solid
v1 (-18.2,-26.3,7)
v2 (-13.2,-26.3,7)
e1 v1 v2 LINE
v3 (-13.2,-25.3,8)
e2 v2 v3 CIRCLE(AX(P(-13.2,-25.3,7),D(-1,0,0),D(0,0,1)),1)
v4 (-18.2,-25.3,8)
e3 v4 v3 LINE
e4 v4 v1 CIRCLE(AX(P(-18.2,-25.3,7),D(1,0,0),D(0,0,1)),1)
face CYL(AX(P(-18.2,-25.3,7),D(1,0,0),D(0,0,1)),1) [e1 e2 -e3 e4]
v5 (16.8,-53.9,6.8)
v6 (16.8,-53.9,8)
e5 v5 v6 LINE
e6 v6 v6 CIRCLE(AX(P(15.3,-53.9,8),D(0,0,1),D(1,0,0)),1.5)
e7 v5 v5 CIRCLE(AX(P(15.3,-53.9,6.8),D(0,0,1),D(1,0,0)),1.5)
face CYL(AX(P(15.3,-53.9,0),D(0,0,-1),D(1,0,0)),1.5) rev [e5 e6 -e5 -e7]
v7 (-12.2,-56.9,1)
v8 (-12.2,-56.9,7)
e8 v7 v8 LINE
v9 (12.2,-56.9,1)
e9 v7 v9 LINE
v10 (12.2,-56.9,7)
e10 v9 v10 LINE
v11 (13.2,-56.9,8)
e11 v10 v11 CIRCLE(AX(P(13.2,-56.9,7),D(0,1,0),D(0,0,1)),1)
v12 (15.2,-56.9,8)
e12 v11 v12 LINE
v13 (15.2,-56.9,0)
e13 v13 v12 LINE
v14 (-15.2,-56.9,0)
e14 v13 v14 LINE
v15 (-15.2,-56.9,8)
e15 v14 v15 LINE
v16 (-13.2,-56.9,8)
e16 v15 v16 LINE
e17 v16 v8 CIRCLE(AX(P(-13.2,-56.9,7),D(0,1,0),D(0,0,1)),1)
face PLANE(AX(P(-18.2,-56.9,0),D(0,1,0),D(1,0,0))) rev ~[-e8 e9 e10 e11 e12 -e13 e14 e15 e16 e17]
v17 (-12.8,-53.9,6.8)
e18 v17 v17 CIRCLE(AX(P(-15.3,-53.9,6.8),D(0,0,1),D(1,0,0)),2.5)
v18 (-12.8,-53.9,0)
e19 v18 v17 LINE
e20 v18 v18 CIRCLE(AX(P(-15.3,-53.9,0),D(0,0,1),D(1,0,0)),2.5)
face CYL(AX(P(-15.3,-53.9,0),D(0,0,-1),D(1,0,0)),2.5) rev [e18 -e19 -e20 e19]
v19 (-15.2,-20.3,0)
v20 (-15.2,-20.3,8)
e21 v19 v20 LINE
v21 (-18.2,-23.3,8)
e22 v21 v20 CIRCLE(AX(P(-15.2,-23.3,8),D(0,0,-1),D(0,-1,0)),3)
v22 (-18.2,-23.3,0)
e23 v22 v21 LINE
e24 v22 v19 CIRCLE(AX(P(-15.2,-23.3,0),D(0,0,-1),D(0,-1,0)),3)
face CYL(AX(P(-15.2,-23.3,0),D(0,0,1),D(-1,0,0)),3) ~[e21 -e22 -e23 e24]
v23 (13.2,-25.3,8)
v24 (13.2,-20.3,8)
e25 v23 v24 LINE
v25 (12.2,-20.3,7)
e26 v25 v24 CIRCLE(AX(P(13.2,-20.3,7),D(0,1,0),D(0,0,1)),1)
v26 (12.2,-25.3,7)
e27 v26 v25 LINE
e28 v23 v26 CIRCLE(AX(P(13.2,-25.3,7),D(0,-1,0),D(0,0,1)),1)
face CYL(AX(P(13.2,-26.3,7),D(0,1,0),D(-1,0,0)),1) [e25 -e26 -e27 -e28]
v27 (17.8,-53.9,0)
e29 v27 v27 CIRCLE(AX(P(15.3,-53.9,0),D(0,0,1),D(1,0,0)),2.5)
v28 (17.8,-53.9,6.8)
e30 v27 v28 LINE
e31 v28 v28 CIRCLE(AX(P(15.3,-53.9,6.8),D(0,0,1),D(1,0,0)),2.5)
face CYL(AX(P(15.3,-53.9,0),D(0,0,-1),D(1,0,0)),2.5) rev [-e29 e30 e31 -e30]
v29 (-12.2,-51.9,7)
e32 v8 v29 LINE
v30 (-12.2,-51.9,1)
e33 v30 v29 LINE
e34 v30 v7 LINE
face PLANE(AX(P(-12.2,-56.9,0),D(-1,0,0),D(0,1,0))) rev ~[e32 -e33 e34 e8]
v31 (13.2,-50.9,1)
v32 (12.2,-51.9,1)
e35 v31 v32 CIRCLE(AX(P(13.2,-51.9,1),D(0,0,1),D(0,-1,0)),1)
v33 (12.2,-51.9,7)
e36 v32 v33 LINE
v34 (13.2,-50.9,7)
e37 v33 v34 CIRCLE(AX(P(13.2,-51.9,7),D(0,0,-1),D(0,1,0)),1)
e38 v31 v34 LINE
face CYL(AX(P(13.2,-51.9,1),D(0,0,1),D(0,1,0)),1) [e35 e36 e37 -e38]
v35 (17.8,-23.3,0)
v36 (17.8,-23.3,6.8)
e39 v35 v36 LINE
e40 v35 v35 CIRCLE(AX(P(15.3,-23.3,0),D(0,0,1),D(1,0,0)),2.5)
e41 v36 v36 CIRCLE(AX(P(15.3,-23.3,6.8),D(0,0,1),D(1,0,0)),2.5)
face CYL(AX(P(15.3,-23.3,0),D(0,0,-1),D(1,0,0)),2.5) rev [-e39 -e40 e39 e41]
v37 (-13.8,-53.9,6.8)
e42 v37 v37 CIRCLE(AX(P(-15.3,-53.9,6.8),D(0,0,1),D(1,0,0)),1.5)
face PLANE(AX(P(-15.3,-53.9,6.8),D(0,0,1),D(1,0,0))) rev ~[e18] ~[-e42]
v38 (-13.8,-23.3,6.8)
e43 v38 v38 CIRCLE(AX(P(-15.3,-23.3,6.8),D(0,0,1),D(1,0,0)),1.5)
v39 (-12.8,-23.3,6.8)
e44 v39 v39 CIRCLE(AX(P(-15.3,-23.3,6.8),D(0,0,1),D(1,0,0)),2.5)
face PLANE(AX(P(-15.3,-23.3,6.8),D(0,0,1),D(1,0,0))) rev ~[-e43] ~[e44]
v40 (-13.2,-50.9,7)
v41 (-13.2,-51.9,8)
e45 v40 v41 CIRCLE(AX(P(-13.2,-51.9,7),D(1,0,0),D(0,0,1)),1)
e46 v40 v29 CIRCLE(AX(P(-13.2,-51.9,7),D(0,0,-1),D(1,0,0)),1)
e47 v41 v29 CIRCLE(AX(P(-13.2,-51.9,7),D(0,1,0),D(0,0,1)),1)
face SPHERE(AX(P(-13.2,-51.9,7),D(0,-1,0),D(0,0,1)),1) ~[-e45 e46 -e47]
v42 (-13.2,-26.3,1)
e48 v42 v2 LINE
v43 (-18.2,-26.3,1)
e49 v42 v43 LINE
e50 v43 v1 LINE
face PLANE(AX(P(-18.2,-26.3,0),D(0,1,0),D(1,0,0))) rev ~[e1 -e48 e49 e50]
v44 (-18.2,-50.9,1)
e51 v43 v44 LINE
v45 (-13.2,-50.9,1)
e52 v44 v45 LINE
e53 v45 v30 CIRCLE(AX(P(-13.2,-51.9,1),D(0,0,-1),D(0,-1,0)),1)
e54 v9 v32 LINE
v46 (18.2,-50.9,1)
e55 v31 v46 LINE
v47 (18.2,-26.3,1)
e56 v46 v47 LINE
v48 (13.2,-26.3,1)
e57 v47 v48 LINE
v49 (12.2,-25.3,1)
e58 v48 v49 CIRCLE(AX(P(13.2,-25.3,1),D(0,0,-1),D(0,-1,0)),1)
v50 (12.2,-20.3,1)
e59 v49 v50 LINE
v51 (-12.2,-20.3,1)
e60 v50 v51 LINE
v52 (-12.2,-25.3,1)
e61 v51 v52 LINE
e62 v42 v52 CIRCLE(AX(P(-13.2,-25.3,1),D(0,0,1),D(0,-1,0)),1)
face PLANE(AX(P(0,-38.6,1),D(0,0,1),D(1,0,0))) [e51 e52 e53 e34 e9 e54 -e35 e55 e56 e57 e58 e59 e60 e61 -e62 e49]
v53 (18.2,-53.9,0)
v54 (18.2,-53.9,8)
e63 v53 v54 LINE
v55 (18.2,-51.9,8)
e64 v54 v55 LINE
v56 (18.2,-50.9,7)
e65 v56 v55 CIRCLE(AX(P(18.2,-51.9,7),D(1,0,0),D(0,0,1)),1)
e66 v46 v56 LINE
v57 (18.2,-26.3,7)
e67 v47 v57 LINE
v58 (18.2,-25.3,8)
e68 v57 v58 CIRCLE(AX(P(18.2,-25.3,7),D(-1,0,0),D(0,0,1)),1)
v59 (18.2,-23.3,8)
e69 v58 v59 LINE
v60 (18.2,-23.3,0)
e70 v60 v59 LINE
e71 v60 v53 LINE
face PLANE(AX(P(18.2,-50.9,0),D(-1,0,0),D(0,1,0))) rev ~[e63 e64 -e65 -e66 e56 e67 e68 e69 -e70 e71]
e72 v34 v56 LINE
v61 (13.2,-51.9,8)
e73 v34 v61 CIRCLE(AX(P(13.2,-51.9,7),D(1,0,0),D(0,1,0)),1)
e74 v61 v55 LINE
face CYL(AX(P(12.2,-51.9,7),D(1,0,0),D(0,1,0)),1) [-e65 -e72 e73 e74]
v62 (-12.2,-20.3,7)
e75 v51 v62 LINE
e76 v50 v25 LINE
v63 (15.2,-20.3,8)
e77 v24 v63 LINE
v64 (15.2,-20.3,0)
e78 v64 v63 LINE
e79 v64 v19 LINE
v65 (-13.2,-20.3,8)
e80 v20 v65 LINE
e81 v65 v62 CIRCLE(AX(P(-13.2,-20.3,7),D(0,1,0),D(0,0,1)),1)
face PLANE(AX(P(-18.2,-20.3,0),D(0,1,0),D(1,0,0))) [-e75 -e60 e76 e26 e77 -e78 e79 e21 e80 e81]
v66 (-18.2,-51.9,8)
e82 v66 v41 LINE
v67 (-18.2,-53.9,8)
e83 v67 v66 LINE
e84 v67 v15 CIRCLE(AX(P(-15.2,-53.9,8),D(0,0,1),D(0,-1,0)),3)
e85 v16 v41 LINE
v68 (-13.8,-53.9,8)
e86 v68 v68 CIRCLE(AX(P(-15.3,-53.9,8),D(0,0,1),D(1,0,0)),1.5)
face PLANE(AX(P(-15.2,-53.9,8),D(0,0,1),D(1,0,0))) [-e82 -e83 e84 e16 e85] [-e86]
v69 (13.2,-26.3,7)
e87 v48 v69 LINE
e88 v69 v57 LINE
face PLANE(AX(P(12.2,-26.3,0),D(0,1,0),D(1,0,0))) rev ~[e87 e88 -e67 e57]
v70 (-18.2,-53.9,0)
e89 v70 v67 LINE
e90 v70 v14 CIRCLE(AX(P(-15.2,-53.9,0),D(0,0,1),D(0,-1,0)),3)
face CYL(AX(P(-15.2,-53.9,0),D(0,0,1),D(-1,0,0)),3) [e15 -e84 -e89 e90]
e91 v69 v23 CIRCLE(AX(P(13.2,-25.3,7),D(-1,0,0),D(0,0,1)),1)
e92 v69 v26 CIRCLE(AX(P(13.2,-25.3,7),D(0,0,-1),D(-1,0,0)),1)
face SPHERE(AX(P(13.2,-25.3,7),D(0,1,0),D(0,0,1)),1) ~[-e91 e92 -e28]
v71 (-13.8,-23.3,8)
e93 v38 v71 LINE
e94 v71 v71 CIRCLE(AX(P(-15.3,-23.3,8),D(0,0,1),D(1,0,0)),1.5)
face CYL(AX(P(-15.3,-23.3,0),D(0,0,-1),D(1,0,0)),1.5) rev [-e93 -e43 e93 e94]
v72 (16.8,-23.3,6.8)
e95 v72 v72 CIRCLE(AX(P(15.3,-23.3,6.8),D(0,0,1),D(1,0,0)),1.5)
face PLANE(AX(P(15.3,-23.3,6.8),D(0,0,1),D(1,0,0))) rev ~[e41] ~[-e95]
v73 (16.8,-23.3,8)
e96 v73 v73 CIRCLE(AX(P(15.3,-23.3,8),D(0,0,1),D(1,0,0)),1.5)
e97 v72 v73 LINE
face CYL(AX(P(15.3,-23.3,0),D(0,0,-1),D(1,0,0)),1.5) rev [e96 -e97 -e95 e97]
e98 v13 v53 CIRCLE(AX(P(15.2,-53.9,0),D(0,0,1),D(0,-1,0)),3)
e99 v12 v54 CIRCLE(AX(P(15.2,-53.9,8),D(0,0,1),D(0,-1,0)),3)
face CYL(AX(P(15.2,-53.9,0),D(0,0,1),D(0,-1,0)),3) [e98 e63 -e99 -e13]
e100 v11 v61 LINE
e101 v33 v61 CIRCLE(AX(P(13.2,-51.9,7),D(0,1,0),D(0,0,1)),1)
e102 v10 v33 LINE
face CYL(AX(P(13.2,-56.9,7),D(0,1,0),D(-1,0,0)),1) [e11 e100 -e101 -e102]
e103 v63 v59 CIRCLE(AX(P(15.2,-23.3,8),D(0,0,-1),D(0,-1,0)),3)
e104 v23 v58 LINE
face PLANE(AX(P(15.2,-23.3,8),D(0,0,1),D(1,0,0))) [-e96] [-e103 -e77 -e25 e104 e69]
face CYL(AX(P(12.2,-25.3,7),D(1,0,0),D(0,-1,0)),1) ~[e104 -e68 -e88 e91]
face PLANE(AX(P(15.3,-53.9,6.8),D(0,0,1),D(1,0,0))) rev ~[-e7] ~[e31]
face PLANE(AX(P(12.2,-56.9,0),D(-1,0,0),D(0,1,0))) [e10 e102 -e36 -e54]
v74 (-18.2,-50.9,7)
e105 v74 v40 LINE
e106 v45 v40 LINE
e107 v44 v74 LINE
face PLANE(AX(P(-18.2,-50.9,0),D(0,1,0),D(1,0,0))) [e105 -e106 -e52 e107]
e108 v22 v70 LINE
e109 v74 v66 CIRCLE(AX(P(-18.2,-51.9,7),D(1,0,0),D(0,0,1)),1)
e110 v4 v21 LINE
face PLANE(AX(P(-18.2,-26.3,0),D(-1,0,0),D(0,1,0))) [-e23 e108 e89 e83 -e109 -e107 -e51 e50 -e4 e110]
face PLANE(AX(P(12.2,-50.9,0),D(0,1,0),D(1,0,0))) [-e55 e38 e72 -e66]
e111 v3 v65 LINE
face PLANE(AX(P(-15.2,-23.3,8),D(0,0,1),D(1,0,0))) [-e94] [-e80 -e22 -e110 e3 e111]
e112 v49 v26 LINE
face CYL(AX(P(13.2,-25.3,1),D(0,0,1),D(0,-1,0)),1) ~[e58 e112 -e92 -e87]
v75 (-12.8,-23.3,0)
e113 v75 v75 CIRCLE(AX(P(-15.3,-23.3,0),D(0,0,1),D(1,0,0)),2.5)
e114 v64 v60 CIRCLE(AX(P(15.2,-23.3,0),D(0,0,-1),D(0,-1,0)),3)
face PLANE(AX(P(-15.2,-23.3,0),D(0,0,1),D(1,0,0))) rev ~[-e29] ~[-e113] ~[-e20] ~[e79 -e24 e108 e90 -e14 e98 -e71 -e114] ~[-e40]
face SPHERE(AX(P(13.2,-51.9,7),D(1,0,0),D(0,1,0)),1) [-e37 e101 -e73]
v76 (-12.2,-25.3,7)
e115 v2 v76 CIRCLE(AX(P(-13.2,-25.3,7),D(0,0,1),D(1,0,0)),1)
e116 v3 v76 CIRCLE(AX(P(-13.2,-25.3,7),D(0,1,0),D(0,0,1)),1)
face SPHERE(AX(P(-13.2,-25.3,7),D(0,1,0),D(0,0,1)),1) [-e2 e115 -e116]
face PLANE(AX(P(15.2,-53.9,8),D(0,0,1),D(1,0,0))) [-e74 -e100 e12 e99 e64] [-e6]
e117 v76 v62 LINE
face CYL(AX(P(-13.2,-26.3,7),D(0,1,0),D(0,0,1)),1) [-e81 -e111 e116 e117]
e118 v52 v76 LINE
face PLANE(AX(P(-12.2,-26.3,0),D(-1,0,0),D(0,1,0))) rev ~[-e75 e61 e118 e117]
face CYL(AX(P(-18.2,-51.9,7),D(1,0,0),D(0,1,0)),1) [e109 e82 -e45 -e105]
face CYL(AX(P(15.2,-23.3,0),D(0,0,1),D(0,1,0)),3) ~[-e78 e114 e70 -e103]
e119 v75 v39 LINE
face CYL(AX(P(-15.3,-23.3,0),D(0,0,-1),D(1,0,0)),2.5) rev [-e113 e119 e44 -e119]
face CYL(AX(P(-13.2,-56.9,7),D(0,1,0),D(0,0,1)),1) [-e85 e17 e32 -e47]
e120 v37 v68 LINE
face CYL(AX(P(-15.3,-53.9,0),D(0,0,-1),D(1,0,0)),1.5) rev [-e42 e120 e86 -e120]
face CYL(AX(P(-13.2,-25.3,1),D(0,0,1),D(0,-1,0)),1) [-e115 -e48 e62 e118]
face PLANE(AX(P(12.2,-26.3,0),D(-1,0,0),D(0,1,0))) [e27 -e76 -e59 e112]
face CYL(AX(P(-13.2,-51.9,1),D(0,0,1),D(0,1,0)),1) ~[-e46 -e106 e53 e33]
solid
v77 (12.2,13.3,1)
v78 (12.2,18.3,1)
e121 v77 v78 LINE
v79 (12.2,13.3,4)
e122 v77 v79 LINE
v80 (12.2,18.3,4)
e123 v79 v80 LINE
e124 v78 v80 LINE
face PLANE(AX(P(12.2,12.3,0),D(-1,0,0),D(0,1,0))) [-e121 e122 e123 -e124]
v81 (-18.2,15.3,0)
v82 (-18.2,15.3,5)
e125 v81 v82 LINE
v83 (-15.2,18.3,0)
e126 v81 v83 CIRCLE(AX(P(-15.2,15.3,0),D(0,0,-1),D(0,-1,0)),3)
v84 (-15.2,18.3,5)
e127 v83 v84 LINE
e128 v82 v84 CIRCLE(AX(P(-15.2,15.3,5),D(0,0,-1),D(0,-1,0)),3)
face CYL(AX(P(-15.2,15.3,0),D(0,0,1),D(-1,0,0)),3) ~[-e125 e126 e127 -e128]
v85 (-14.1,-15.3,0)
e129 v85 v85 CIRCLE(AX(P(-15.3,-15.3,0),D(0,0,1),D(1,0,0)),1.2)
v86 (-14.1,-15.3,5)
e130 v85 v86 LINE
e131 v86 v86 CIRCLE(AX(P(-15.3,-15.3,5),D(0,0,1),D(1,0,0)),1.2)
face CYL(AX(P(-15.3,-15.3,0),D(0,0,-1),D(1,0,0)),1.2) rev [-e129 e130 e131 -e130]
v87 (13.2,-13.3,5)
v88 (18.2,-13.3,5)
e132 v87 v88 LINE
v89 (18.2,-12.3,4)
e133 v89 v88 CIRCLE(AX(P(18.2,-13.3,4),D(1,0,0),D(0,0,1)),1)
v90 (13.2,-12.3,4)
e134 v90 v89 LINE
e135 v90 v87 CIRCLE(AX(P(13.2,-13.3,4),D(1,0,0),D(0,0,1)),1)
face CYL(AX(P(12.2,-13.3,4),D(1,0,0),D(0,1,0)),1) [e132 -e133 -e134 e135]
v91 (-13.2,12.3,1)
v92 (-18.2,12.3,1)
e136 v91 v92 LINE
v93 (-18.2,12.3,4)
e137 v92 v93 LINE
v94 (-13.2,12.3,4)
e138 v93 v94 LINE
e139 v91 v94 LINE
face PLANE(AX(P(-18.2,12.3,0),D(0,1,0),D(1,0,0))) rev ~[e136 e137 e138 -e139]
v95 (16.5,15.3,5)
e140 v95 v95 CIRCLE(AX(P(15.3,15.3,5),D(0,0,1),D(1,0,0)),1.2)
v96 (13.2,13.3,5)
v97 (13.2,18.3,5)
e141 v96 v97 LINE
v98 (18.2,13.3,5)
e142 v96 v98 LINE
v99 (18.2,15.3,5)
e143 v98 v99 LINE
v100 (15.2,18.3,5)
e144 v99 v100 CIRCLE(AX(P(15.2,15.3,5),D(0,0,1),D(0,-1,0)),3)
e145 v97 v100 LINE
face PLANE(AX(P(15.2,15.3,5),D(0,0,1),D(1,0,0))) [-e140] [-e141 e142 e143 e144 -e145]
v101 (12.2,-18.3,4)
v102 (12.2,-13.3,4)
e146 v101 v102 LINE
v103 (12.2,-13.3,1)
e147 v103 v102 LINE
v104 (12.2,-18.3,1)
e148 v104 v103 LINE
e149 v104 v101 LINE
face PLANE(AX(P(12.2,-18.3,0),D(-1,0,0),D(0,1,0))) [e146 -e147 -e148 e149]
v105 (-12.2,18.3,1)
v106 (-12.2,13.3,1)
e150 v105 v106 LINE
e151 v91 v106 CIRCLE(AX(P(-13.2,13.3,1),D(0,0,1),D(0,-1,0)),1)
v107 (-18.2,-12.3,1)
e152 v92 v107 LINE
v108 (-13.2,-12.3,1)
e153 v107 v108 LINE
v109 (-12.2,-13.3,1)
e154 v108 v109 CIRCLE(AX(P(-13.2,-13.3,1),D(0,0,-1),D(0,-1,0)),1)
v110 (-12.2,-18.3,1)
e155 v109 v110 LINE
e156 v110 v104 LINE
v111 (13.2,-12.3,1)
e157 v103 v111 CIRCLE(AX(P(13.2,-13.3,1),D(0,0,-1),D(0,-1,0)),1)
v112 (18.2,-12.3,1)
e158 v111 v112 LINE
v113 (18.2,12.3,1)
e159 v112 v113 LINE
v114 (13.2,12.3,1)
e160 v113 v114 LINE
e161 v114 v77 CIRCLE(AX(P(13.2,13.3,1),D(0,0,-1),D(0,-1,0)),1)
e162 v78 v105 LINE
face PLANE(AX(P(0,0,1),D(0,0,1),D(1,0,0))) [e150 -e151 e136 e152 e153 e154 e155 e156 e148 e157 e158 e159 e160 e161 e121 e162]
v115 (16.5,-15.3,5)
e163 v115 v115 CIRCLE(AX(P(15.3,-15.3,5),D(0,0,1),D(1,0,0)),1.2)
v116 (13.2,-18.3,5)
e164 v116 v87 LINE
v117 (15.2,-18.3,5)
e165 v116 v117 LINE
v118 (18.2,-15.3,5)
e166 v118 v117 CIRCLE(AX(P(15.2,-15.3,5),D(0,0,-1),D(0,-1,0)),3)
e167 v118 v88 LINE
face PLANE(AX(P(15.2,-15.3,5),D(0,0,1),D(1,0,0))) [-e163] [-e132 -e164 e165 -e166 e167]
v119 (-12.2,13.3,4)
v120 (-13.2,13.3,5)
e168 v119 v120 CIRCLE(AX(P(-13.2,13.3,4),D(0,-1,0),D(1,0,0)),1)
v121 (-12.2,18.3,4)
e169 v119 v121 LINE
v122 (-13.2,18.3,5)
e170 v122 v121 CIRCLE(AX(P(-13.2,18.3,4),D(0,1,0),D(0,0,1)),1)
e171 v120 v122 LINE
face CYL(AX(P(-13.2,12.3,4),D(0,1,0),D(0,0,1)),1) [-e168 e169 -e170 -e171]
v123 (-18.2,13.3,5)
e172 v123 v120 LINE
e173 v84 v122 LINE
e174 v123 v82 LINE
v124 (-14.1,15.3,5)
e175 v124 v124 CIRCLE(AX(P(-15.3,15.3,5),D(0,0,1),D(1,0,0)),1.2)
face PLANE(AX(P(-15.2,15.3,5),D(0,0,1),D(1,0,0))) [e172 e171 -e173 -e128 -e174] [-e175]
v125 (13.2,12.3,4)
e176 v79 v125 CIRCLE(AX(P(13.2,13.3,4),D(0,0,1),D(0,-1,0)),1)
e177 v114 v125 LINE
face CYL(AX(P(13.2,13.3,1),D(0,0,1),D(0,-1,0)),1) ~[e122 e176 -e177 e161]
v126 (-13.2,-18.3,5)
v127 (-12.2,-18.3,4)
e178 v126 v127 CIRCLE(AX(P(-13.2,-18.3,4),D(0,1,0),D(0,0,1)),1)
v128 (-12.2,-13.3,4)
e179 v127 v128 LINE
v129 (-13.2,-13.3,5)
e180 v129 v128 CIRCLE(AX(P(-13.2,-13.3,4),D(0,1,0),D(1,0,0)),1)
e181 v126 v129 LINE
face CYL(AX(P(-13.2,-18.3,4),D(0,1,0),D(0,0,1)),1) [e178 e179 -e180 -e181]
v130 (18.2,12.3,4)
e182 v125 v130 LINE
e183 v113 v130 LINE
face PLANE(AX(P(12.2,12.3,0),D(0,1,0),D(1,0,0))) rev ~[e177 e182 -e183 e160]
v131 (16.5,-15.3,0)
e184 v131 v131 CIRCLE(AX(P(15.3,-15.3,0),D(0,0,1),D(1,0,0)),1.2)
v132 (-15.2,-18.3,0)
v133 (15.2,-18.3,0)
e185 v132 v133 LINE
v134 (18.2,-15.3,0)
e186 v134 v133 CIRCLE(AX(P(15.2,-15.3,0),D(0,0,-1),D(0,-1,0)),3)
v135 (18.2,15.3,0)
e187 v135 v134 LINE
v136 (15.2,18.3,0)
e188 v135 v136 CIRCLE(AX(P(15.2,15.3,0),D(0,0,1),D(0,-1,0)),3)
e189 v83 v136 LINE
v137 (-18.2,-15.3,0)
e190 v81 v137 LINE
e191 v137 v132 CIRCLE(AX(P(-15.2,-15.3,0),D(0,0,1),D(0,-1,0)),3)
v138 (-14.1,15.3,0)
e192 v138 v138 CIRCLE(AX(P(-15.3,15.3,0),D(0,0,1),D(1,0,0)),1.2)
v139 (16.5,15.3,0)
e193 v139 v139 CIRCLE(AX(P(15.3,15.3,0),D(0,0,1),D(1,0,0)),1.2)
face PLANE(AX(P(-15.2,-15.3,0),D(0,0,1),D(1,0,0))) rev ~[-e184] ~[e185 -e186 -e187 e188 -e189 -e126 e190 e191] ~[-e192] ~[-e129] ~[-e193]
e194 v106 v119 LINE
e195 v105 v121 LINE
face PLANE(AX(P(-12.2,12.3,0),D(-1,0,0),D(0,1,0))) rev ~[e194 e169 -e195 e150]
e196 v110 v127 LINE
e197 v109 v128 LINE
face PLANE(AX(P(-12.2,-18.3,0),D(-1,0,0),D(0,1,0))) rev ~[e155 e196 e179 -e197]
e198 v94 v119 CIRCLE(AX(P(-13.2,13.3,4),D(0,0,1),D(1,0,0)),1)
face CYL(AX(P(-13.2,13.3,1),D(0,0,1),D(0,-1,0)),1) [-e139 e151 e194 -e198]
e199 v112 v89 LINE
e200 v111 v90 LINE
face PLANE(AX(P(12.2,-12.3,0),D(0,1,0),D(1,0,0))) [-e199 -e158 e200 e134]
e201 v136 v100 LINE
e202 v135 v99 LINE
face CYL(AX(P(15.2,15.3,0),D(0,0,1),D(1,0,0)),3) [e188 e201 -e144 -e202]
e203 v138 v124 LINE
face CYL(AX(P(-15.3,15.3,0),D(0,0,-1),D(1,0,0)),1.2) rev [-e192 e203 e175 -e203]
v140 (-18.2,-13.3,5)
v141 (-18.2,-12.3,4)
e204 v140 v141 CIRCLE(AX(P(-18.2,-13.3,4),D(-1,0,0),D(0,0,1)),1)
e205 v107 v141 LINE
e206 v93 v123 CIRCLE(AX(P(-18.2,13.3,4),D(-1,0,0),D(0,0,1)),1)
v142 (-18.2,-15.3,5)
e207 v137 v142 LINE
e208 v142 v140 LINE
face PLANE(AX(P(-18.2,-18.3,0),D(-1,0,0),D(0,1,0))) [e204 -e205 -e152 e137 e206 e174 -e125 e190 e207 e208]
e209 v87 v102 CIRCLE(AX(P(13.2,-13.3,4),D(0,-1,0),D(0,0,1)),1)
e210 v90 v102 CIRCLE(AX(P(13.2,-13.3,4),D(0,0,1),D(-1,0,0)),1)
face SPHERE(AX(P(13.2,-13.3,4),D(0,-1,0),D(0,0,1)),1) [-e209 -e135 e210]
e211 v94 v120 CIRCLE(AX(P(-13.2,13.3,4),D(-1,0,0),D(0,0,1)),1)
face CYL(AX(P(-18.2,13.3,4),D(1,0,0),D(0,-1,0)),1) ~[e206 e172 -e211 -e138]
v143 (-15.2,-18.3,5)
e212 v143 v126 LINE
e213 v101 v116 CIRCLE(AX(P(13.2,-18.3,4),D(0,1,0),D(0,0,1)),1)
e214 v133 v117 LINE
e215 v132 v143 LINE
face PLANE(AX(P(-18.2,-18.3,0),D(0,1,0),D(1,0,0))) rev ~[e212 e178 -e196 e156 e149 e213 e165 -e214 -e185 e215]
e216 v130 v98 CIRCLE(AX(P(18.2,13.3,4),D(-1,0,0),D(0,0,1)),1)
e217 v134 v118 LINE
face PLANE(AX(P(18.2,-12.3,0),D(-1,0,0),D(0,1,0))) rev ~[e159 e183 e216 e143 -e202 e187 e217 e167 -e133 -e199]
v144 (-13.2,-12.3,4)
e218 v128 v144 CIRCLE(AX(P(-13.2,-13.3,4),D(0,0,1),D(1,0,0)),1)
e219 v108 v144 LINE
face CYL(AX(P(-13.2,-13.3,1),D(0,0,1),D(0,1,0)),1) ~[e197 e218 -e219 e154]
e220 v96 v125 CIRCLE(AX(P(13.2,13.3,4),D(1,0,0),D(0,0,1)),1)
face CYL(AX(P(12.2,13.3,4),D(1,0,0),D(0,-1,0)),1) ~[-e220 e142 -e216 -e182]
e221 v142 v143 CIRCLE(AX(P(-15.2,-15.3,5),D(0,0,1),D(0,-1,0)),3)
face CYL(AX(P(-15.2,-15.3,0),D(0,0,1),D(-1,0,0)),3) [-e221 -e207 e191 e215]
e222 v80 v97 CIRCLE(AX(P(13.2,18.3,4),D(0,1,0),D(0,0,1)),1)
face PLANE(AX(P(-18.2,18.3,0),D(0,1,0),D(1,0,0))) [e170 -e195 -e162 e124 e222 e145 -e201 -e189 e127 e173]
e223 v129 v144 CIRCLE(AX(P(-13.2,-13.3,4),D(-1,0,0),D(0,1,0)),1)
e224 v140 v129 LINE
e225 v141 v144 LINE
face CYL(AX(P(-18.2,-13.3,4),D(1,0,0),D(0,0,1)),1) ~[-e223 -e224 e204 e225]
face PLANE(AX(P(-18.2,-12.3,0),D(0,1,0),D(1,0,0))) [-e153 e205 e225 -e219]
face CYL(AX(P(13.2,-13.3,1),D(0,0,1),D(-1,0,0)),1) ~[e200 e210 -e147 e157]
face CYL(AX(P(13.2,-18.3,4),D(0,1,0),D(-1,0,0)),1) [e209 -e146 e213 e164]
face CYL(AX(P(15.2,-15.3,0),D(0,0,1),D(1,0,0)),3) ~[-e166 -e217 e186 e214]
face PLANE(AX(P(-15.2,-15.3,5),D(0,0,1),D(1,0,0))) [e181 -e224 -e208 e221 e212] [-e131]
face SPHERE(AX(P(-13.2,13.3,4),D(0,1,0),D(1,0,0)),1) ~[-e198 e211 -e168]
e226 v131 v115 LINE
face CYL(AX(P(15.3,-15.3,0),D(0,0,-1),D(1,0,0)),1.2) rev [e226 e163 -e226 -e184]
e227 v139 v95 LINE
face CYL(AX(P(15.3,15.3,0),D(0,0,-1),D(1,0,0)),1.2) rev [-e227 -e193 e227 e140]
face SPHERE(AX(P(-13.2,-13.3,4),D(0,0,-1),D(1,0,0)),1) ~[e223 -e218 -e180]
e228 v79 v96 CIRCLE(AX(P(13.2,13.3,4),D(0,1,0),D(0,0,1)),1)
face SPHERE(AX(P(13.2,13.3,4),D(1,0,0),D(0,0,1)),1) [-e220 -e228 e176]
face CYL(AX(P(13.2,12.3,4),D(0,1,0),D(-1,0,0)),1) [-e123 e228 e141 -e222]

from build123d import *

# Parameters (mm, degrees)
F1_DEPTH = 1
F0_W     = 6
F0_H     = 6
F0_R     = 1.2
F2_DEPTH = 5
F0_R_2   = 2.5
F0_R_3   = 1.5
F3_DEPTH = 8
F4_DEPTH = 6.8
F5_R     = 3
F5_2_R   = 3
F6_R     = 1
F6_2_R   = 1


with BuildPart() as f1:
    # F0 (on Top) → F1 (new body)
    with BuildSketch(Plane.XY):
        Polygon((-12.2, -18.3), (12.2, -18.3), (12.2, -12.3), (18.2, -12.3), (18.2, 12.3), (12.2, 12.3), (12.2, 18.3), (-12.2, 18.3), (-12.2, 12.3), (-18.2, 12.3), (-18.2, -12.3), (-12.2, -12.3), align=None)
    extrude(amount=F1_DEPTH)

    # F0 (on Top) → F2 (join)
    with BuildSketch(Plane.XY):
        with Locations((-15.2, -15.3)):
            Rectangle(F0_W, F0_H)
        with Locations((-15.3, -15.3)):
            Circle(F0_R, mode=Mode.SUBTRACT)
        with Locations((15.2, -15.3)):
            Rectangle(F0_W, F0_H)
        with Locations((15.3, -15.3)):
            Circle(F0_R, mode=Mode.SUBTRACT)
        with Locations((-15.2, 15.3)):
            Rectangle(F0_W, F0_H)
        with Locations((-15.3, 15.3)):
            Circle(F0_R, mode=Mode.SUBTRACT)
        with Locations((15.2, 15.3)):
            Rectangle(F0_W, F0_H)
        with Locations((15.3, 15.3)):
            Circle(F0_R, mode=Mode.SUBTRACT)
    extrude(amount=F2_DEPTH)

    # F5
    f5_edges = [f1.edges().sort_by_distance(p)[0] for p in [
        (-18.2, -18.3, 2.5),
        (-18.2, 18.3, 2.5),
        (18.2, -18.3, 2.5),
        (18.2, 18.3, 2.5),
    ]]
    fillet(f5_edges, radius=F5_R)

    # F6#2
    f6_2_edges = [f1.edges().sort_by_distance(p)[0] for p in [
        (-12.2, -12.3, 3),
        (-12.2, -15.3, 5),
        (-15.2, -12.3, 5),
        (12.2, -15.3, 5),
        (15.2, -12.3, 5),
        (12.2, -12.3, 3),
        (15.2, 12.3, 5),
        (12.2, 15.3, 5),
        (-12.2, 15.3, 5),
        (-12.2, 12.3, 3),
        (-15.2, 12.3, 5),
        (12.2, 12.3, 3),
    ]]
    fillet(f6_2_edges, radius=F6_2_R)


with BuildPart() as f1b:
    # F0 (on Top) → F1, piece 2 (new body)
    with BuildSketch(Plane.XY):
        Polygon((12.2, -50.9), (18.2, -50.9), (18.2, -26.3), (12.2, -26.3), (12.2, -20.3), (-12.2, -20.3), (-12.2, -26.3), (-18.2, -26.3), (-18.2, -50.9), (-12.2, -50.9), (-12.2, -56.9), (12.2, -56.9), align=None)
    extrude(amount=F1_DEPTH)

    # F0 (on Top) → F3 (join)
    with BuildSketch(Plane.XY):
        with Locations((-15.2, -23.3)):
            Rectangle(F0_W, F0_H)
        with Locations((-15.3, -23.3)):
            Circle(F0_R_2, mode=Mode.SUBTRACT)
        with Locations((15.2, -23.3)):
            Rectangle(F0_W, F0_H)
        with Locations((15.3, -23.3)):
            Circle(F0_R_2, mode=Mode.SUBTRACT)
        with Locations((15.2, -53.9)):
            Rectangle(F0_W, F0_H)
        with Locations((15.3, -53.9)):
            Circle(F0_R_2, mode=Mode.SUBTRACT)
        with Locations((-15.2, -53.9)):
            Rectangle(F0_W, F0_H)
        with Locations((-15.3, -53.9)):
            Circle(F0_R_2, mode=Mode.SUBTRACT)
        with Locations((-15.3, -23.3)):
            Circle(F0_R_2)
        with Locations((-15.3, -23.3)):
            Circle(F0_R_3, mode=Mode.SUBTRACT)
        with Locations((15.3, -23.3)):
            Circle(F0_R_2)
        with Locations((15.3, -23.3)):
            Circle(F0_R_3, mode=Mode.SUBTRACT)
        with Locations((15.3, -53.9)):
            Circle(F0_R_2)
        with Locations((15.3, -53.9)):
            Circle(F0_R_3, mode=Mode.SUBTRACT)
        with Locations((-15.3, -53.9)):
            Circle(F0_R_2)
        with Locations((-15.3, -53.9)):
            Circle(F0_R_3, mode=Mode.SUBTRACT)
    extrude(amount=F3_DEPTH)

    # F0 (on Top) → F4 (cut)
    with BuildSketch(Plane.XY):
        with Locations((-15.3, -23.3)):
            Circle(F0_R_2)
        with Locations((-15.3, -23.3)):
            Circle(F0_R_3, mode=Mode.SUBTRACT)
        with Locations((15.3, -23.3)):
            Circle(F0_R_2)
        with Locations((15.3, -23.3)):
            Circle(F0_R_3, mode=Mode.SUBTRACT)
        with Locations((15.3, -53.9)):
            Circle(F0_R_2)
        with Locations((15.3, -53.9)):
            Circle(F0_R_3, mode=Mode.SUBTRACT)
        with Locations((-15.3, -53.9)):
            Circle(F0_R_2)
        with Locations((-15.3, -53.9)):
            Circle(F0_R_3, mode=Mode.SUBTRACT)
    extrude(amount=F4_DEPTH, mode=Mode.SUBTRACT)

    # F5#2
    f5_2_edges = [f1b.edges().sort_by_distance(p)[0] for p in [
        (-18.2, -20.3, 4),
        (-18.2, -56.9, 4),
        (18.2, -56.9, 4),
        (18.2, -20.3, 4),
    ]]
    fillet(f5_2_edges, radius=F5_2_R)

    # F6
    f6_edges = [f1b.edges().sort_by_distance(p)[0] for p in [
        (15.2, -50.9, 8),
        (-12.2, -53.9, 8),
        (-15.2, -50.9, 8),
        (-12.2, -50.9, 4.5),
        (12.2, -50.9, 4.5),
        (12.2, -53.9, 8),
        (12.2, -23.3, 8),
        (15.2, -26.3, 8),
        (12.2, -26.3, 4.5),
        (-12.2, -23.3, 8),
        (-15.2, -26.3, 8),
        (-12.2, -26.3, 4.5),
    ]]
    fillet(f6_edges, radius=F6_R)


solid = Compound([f1.part, f1b.part])
